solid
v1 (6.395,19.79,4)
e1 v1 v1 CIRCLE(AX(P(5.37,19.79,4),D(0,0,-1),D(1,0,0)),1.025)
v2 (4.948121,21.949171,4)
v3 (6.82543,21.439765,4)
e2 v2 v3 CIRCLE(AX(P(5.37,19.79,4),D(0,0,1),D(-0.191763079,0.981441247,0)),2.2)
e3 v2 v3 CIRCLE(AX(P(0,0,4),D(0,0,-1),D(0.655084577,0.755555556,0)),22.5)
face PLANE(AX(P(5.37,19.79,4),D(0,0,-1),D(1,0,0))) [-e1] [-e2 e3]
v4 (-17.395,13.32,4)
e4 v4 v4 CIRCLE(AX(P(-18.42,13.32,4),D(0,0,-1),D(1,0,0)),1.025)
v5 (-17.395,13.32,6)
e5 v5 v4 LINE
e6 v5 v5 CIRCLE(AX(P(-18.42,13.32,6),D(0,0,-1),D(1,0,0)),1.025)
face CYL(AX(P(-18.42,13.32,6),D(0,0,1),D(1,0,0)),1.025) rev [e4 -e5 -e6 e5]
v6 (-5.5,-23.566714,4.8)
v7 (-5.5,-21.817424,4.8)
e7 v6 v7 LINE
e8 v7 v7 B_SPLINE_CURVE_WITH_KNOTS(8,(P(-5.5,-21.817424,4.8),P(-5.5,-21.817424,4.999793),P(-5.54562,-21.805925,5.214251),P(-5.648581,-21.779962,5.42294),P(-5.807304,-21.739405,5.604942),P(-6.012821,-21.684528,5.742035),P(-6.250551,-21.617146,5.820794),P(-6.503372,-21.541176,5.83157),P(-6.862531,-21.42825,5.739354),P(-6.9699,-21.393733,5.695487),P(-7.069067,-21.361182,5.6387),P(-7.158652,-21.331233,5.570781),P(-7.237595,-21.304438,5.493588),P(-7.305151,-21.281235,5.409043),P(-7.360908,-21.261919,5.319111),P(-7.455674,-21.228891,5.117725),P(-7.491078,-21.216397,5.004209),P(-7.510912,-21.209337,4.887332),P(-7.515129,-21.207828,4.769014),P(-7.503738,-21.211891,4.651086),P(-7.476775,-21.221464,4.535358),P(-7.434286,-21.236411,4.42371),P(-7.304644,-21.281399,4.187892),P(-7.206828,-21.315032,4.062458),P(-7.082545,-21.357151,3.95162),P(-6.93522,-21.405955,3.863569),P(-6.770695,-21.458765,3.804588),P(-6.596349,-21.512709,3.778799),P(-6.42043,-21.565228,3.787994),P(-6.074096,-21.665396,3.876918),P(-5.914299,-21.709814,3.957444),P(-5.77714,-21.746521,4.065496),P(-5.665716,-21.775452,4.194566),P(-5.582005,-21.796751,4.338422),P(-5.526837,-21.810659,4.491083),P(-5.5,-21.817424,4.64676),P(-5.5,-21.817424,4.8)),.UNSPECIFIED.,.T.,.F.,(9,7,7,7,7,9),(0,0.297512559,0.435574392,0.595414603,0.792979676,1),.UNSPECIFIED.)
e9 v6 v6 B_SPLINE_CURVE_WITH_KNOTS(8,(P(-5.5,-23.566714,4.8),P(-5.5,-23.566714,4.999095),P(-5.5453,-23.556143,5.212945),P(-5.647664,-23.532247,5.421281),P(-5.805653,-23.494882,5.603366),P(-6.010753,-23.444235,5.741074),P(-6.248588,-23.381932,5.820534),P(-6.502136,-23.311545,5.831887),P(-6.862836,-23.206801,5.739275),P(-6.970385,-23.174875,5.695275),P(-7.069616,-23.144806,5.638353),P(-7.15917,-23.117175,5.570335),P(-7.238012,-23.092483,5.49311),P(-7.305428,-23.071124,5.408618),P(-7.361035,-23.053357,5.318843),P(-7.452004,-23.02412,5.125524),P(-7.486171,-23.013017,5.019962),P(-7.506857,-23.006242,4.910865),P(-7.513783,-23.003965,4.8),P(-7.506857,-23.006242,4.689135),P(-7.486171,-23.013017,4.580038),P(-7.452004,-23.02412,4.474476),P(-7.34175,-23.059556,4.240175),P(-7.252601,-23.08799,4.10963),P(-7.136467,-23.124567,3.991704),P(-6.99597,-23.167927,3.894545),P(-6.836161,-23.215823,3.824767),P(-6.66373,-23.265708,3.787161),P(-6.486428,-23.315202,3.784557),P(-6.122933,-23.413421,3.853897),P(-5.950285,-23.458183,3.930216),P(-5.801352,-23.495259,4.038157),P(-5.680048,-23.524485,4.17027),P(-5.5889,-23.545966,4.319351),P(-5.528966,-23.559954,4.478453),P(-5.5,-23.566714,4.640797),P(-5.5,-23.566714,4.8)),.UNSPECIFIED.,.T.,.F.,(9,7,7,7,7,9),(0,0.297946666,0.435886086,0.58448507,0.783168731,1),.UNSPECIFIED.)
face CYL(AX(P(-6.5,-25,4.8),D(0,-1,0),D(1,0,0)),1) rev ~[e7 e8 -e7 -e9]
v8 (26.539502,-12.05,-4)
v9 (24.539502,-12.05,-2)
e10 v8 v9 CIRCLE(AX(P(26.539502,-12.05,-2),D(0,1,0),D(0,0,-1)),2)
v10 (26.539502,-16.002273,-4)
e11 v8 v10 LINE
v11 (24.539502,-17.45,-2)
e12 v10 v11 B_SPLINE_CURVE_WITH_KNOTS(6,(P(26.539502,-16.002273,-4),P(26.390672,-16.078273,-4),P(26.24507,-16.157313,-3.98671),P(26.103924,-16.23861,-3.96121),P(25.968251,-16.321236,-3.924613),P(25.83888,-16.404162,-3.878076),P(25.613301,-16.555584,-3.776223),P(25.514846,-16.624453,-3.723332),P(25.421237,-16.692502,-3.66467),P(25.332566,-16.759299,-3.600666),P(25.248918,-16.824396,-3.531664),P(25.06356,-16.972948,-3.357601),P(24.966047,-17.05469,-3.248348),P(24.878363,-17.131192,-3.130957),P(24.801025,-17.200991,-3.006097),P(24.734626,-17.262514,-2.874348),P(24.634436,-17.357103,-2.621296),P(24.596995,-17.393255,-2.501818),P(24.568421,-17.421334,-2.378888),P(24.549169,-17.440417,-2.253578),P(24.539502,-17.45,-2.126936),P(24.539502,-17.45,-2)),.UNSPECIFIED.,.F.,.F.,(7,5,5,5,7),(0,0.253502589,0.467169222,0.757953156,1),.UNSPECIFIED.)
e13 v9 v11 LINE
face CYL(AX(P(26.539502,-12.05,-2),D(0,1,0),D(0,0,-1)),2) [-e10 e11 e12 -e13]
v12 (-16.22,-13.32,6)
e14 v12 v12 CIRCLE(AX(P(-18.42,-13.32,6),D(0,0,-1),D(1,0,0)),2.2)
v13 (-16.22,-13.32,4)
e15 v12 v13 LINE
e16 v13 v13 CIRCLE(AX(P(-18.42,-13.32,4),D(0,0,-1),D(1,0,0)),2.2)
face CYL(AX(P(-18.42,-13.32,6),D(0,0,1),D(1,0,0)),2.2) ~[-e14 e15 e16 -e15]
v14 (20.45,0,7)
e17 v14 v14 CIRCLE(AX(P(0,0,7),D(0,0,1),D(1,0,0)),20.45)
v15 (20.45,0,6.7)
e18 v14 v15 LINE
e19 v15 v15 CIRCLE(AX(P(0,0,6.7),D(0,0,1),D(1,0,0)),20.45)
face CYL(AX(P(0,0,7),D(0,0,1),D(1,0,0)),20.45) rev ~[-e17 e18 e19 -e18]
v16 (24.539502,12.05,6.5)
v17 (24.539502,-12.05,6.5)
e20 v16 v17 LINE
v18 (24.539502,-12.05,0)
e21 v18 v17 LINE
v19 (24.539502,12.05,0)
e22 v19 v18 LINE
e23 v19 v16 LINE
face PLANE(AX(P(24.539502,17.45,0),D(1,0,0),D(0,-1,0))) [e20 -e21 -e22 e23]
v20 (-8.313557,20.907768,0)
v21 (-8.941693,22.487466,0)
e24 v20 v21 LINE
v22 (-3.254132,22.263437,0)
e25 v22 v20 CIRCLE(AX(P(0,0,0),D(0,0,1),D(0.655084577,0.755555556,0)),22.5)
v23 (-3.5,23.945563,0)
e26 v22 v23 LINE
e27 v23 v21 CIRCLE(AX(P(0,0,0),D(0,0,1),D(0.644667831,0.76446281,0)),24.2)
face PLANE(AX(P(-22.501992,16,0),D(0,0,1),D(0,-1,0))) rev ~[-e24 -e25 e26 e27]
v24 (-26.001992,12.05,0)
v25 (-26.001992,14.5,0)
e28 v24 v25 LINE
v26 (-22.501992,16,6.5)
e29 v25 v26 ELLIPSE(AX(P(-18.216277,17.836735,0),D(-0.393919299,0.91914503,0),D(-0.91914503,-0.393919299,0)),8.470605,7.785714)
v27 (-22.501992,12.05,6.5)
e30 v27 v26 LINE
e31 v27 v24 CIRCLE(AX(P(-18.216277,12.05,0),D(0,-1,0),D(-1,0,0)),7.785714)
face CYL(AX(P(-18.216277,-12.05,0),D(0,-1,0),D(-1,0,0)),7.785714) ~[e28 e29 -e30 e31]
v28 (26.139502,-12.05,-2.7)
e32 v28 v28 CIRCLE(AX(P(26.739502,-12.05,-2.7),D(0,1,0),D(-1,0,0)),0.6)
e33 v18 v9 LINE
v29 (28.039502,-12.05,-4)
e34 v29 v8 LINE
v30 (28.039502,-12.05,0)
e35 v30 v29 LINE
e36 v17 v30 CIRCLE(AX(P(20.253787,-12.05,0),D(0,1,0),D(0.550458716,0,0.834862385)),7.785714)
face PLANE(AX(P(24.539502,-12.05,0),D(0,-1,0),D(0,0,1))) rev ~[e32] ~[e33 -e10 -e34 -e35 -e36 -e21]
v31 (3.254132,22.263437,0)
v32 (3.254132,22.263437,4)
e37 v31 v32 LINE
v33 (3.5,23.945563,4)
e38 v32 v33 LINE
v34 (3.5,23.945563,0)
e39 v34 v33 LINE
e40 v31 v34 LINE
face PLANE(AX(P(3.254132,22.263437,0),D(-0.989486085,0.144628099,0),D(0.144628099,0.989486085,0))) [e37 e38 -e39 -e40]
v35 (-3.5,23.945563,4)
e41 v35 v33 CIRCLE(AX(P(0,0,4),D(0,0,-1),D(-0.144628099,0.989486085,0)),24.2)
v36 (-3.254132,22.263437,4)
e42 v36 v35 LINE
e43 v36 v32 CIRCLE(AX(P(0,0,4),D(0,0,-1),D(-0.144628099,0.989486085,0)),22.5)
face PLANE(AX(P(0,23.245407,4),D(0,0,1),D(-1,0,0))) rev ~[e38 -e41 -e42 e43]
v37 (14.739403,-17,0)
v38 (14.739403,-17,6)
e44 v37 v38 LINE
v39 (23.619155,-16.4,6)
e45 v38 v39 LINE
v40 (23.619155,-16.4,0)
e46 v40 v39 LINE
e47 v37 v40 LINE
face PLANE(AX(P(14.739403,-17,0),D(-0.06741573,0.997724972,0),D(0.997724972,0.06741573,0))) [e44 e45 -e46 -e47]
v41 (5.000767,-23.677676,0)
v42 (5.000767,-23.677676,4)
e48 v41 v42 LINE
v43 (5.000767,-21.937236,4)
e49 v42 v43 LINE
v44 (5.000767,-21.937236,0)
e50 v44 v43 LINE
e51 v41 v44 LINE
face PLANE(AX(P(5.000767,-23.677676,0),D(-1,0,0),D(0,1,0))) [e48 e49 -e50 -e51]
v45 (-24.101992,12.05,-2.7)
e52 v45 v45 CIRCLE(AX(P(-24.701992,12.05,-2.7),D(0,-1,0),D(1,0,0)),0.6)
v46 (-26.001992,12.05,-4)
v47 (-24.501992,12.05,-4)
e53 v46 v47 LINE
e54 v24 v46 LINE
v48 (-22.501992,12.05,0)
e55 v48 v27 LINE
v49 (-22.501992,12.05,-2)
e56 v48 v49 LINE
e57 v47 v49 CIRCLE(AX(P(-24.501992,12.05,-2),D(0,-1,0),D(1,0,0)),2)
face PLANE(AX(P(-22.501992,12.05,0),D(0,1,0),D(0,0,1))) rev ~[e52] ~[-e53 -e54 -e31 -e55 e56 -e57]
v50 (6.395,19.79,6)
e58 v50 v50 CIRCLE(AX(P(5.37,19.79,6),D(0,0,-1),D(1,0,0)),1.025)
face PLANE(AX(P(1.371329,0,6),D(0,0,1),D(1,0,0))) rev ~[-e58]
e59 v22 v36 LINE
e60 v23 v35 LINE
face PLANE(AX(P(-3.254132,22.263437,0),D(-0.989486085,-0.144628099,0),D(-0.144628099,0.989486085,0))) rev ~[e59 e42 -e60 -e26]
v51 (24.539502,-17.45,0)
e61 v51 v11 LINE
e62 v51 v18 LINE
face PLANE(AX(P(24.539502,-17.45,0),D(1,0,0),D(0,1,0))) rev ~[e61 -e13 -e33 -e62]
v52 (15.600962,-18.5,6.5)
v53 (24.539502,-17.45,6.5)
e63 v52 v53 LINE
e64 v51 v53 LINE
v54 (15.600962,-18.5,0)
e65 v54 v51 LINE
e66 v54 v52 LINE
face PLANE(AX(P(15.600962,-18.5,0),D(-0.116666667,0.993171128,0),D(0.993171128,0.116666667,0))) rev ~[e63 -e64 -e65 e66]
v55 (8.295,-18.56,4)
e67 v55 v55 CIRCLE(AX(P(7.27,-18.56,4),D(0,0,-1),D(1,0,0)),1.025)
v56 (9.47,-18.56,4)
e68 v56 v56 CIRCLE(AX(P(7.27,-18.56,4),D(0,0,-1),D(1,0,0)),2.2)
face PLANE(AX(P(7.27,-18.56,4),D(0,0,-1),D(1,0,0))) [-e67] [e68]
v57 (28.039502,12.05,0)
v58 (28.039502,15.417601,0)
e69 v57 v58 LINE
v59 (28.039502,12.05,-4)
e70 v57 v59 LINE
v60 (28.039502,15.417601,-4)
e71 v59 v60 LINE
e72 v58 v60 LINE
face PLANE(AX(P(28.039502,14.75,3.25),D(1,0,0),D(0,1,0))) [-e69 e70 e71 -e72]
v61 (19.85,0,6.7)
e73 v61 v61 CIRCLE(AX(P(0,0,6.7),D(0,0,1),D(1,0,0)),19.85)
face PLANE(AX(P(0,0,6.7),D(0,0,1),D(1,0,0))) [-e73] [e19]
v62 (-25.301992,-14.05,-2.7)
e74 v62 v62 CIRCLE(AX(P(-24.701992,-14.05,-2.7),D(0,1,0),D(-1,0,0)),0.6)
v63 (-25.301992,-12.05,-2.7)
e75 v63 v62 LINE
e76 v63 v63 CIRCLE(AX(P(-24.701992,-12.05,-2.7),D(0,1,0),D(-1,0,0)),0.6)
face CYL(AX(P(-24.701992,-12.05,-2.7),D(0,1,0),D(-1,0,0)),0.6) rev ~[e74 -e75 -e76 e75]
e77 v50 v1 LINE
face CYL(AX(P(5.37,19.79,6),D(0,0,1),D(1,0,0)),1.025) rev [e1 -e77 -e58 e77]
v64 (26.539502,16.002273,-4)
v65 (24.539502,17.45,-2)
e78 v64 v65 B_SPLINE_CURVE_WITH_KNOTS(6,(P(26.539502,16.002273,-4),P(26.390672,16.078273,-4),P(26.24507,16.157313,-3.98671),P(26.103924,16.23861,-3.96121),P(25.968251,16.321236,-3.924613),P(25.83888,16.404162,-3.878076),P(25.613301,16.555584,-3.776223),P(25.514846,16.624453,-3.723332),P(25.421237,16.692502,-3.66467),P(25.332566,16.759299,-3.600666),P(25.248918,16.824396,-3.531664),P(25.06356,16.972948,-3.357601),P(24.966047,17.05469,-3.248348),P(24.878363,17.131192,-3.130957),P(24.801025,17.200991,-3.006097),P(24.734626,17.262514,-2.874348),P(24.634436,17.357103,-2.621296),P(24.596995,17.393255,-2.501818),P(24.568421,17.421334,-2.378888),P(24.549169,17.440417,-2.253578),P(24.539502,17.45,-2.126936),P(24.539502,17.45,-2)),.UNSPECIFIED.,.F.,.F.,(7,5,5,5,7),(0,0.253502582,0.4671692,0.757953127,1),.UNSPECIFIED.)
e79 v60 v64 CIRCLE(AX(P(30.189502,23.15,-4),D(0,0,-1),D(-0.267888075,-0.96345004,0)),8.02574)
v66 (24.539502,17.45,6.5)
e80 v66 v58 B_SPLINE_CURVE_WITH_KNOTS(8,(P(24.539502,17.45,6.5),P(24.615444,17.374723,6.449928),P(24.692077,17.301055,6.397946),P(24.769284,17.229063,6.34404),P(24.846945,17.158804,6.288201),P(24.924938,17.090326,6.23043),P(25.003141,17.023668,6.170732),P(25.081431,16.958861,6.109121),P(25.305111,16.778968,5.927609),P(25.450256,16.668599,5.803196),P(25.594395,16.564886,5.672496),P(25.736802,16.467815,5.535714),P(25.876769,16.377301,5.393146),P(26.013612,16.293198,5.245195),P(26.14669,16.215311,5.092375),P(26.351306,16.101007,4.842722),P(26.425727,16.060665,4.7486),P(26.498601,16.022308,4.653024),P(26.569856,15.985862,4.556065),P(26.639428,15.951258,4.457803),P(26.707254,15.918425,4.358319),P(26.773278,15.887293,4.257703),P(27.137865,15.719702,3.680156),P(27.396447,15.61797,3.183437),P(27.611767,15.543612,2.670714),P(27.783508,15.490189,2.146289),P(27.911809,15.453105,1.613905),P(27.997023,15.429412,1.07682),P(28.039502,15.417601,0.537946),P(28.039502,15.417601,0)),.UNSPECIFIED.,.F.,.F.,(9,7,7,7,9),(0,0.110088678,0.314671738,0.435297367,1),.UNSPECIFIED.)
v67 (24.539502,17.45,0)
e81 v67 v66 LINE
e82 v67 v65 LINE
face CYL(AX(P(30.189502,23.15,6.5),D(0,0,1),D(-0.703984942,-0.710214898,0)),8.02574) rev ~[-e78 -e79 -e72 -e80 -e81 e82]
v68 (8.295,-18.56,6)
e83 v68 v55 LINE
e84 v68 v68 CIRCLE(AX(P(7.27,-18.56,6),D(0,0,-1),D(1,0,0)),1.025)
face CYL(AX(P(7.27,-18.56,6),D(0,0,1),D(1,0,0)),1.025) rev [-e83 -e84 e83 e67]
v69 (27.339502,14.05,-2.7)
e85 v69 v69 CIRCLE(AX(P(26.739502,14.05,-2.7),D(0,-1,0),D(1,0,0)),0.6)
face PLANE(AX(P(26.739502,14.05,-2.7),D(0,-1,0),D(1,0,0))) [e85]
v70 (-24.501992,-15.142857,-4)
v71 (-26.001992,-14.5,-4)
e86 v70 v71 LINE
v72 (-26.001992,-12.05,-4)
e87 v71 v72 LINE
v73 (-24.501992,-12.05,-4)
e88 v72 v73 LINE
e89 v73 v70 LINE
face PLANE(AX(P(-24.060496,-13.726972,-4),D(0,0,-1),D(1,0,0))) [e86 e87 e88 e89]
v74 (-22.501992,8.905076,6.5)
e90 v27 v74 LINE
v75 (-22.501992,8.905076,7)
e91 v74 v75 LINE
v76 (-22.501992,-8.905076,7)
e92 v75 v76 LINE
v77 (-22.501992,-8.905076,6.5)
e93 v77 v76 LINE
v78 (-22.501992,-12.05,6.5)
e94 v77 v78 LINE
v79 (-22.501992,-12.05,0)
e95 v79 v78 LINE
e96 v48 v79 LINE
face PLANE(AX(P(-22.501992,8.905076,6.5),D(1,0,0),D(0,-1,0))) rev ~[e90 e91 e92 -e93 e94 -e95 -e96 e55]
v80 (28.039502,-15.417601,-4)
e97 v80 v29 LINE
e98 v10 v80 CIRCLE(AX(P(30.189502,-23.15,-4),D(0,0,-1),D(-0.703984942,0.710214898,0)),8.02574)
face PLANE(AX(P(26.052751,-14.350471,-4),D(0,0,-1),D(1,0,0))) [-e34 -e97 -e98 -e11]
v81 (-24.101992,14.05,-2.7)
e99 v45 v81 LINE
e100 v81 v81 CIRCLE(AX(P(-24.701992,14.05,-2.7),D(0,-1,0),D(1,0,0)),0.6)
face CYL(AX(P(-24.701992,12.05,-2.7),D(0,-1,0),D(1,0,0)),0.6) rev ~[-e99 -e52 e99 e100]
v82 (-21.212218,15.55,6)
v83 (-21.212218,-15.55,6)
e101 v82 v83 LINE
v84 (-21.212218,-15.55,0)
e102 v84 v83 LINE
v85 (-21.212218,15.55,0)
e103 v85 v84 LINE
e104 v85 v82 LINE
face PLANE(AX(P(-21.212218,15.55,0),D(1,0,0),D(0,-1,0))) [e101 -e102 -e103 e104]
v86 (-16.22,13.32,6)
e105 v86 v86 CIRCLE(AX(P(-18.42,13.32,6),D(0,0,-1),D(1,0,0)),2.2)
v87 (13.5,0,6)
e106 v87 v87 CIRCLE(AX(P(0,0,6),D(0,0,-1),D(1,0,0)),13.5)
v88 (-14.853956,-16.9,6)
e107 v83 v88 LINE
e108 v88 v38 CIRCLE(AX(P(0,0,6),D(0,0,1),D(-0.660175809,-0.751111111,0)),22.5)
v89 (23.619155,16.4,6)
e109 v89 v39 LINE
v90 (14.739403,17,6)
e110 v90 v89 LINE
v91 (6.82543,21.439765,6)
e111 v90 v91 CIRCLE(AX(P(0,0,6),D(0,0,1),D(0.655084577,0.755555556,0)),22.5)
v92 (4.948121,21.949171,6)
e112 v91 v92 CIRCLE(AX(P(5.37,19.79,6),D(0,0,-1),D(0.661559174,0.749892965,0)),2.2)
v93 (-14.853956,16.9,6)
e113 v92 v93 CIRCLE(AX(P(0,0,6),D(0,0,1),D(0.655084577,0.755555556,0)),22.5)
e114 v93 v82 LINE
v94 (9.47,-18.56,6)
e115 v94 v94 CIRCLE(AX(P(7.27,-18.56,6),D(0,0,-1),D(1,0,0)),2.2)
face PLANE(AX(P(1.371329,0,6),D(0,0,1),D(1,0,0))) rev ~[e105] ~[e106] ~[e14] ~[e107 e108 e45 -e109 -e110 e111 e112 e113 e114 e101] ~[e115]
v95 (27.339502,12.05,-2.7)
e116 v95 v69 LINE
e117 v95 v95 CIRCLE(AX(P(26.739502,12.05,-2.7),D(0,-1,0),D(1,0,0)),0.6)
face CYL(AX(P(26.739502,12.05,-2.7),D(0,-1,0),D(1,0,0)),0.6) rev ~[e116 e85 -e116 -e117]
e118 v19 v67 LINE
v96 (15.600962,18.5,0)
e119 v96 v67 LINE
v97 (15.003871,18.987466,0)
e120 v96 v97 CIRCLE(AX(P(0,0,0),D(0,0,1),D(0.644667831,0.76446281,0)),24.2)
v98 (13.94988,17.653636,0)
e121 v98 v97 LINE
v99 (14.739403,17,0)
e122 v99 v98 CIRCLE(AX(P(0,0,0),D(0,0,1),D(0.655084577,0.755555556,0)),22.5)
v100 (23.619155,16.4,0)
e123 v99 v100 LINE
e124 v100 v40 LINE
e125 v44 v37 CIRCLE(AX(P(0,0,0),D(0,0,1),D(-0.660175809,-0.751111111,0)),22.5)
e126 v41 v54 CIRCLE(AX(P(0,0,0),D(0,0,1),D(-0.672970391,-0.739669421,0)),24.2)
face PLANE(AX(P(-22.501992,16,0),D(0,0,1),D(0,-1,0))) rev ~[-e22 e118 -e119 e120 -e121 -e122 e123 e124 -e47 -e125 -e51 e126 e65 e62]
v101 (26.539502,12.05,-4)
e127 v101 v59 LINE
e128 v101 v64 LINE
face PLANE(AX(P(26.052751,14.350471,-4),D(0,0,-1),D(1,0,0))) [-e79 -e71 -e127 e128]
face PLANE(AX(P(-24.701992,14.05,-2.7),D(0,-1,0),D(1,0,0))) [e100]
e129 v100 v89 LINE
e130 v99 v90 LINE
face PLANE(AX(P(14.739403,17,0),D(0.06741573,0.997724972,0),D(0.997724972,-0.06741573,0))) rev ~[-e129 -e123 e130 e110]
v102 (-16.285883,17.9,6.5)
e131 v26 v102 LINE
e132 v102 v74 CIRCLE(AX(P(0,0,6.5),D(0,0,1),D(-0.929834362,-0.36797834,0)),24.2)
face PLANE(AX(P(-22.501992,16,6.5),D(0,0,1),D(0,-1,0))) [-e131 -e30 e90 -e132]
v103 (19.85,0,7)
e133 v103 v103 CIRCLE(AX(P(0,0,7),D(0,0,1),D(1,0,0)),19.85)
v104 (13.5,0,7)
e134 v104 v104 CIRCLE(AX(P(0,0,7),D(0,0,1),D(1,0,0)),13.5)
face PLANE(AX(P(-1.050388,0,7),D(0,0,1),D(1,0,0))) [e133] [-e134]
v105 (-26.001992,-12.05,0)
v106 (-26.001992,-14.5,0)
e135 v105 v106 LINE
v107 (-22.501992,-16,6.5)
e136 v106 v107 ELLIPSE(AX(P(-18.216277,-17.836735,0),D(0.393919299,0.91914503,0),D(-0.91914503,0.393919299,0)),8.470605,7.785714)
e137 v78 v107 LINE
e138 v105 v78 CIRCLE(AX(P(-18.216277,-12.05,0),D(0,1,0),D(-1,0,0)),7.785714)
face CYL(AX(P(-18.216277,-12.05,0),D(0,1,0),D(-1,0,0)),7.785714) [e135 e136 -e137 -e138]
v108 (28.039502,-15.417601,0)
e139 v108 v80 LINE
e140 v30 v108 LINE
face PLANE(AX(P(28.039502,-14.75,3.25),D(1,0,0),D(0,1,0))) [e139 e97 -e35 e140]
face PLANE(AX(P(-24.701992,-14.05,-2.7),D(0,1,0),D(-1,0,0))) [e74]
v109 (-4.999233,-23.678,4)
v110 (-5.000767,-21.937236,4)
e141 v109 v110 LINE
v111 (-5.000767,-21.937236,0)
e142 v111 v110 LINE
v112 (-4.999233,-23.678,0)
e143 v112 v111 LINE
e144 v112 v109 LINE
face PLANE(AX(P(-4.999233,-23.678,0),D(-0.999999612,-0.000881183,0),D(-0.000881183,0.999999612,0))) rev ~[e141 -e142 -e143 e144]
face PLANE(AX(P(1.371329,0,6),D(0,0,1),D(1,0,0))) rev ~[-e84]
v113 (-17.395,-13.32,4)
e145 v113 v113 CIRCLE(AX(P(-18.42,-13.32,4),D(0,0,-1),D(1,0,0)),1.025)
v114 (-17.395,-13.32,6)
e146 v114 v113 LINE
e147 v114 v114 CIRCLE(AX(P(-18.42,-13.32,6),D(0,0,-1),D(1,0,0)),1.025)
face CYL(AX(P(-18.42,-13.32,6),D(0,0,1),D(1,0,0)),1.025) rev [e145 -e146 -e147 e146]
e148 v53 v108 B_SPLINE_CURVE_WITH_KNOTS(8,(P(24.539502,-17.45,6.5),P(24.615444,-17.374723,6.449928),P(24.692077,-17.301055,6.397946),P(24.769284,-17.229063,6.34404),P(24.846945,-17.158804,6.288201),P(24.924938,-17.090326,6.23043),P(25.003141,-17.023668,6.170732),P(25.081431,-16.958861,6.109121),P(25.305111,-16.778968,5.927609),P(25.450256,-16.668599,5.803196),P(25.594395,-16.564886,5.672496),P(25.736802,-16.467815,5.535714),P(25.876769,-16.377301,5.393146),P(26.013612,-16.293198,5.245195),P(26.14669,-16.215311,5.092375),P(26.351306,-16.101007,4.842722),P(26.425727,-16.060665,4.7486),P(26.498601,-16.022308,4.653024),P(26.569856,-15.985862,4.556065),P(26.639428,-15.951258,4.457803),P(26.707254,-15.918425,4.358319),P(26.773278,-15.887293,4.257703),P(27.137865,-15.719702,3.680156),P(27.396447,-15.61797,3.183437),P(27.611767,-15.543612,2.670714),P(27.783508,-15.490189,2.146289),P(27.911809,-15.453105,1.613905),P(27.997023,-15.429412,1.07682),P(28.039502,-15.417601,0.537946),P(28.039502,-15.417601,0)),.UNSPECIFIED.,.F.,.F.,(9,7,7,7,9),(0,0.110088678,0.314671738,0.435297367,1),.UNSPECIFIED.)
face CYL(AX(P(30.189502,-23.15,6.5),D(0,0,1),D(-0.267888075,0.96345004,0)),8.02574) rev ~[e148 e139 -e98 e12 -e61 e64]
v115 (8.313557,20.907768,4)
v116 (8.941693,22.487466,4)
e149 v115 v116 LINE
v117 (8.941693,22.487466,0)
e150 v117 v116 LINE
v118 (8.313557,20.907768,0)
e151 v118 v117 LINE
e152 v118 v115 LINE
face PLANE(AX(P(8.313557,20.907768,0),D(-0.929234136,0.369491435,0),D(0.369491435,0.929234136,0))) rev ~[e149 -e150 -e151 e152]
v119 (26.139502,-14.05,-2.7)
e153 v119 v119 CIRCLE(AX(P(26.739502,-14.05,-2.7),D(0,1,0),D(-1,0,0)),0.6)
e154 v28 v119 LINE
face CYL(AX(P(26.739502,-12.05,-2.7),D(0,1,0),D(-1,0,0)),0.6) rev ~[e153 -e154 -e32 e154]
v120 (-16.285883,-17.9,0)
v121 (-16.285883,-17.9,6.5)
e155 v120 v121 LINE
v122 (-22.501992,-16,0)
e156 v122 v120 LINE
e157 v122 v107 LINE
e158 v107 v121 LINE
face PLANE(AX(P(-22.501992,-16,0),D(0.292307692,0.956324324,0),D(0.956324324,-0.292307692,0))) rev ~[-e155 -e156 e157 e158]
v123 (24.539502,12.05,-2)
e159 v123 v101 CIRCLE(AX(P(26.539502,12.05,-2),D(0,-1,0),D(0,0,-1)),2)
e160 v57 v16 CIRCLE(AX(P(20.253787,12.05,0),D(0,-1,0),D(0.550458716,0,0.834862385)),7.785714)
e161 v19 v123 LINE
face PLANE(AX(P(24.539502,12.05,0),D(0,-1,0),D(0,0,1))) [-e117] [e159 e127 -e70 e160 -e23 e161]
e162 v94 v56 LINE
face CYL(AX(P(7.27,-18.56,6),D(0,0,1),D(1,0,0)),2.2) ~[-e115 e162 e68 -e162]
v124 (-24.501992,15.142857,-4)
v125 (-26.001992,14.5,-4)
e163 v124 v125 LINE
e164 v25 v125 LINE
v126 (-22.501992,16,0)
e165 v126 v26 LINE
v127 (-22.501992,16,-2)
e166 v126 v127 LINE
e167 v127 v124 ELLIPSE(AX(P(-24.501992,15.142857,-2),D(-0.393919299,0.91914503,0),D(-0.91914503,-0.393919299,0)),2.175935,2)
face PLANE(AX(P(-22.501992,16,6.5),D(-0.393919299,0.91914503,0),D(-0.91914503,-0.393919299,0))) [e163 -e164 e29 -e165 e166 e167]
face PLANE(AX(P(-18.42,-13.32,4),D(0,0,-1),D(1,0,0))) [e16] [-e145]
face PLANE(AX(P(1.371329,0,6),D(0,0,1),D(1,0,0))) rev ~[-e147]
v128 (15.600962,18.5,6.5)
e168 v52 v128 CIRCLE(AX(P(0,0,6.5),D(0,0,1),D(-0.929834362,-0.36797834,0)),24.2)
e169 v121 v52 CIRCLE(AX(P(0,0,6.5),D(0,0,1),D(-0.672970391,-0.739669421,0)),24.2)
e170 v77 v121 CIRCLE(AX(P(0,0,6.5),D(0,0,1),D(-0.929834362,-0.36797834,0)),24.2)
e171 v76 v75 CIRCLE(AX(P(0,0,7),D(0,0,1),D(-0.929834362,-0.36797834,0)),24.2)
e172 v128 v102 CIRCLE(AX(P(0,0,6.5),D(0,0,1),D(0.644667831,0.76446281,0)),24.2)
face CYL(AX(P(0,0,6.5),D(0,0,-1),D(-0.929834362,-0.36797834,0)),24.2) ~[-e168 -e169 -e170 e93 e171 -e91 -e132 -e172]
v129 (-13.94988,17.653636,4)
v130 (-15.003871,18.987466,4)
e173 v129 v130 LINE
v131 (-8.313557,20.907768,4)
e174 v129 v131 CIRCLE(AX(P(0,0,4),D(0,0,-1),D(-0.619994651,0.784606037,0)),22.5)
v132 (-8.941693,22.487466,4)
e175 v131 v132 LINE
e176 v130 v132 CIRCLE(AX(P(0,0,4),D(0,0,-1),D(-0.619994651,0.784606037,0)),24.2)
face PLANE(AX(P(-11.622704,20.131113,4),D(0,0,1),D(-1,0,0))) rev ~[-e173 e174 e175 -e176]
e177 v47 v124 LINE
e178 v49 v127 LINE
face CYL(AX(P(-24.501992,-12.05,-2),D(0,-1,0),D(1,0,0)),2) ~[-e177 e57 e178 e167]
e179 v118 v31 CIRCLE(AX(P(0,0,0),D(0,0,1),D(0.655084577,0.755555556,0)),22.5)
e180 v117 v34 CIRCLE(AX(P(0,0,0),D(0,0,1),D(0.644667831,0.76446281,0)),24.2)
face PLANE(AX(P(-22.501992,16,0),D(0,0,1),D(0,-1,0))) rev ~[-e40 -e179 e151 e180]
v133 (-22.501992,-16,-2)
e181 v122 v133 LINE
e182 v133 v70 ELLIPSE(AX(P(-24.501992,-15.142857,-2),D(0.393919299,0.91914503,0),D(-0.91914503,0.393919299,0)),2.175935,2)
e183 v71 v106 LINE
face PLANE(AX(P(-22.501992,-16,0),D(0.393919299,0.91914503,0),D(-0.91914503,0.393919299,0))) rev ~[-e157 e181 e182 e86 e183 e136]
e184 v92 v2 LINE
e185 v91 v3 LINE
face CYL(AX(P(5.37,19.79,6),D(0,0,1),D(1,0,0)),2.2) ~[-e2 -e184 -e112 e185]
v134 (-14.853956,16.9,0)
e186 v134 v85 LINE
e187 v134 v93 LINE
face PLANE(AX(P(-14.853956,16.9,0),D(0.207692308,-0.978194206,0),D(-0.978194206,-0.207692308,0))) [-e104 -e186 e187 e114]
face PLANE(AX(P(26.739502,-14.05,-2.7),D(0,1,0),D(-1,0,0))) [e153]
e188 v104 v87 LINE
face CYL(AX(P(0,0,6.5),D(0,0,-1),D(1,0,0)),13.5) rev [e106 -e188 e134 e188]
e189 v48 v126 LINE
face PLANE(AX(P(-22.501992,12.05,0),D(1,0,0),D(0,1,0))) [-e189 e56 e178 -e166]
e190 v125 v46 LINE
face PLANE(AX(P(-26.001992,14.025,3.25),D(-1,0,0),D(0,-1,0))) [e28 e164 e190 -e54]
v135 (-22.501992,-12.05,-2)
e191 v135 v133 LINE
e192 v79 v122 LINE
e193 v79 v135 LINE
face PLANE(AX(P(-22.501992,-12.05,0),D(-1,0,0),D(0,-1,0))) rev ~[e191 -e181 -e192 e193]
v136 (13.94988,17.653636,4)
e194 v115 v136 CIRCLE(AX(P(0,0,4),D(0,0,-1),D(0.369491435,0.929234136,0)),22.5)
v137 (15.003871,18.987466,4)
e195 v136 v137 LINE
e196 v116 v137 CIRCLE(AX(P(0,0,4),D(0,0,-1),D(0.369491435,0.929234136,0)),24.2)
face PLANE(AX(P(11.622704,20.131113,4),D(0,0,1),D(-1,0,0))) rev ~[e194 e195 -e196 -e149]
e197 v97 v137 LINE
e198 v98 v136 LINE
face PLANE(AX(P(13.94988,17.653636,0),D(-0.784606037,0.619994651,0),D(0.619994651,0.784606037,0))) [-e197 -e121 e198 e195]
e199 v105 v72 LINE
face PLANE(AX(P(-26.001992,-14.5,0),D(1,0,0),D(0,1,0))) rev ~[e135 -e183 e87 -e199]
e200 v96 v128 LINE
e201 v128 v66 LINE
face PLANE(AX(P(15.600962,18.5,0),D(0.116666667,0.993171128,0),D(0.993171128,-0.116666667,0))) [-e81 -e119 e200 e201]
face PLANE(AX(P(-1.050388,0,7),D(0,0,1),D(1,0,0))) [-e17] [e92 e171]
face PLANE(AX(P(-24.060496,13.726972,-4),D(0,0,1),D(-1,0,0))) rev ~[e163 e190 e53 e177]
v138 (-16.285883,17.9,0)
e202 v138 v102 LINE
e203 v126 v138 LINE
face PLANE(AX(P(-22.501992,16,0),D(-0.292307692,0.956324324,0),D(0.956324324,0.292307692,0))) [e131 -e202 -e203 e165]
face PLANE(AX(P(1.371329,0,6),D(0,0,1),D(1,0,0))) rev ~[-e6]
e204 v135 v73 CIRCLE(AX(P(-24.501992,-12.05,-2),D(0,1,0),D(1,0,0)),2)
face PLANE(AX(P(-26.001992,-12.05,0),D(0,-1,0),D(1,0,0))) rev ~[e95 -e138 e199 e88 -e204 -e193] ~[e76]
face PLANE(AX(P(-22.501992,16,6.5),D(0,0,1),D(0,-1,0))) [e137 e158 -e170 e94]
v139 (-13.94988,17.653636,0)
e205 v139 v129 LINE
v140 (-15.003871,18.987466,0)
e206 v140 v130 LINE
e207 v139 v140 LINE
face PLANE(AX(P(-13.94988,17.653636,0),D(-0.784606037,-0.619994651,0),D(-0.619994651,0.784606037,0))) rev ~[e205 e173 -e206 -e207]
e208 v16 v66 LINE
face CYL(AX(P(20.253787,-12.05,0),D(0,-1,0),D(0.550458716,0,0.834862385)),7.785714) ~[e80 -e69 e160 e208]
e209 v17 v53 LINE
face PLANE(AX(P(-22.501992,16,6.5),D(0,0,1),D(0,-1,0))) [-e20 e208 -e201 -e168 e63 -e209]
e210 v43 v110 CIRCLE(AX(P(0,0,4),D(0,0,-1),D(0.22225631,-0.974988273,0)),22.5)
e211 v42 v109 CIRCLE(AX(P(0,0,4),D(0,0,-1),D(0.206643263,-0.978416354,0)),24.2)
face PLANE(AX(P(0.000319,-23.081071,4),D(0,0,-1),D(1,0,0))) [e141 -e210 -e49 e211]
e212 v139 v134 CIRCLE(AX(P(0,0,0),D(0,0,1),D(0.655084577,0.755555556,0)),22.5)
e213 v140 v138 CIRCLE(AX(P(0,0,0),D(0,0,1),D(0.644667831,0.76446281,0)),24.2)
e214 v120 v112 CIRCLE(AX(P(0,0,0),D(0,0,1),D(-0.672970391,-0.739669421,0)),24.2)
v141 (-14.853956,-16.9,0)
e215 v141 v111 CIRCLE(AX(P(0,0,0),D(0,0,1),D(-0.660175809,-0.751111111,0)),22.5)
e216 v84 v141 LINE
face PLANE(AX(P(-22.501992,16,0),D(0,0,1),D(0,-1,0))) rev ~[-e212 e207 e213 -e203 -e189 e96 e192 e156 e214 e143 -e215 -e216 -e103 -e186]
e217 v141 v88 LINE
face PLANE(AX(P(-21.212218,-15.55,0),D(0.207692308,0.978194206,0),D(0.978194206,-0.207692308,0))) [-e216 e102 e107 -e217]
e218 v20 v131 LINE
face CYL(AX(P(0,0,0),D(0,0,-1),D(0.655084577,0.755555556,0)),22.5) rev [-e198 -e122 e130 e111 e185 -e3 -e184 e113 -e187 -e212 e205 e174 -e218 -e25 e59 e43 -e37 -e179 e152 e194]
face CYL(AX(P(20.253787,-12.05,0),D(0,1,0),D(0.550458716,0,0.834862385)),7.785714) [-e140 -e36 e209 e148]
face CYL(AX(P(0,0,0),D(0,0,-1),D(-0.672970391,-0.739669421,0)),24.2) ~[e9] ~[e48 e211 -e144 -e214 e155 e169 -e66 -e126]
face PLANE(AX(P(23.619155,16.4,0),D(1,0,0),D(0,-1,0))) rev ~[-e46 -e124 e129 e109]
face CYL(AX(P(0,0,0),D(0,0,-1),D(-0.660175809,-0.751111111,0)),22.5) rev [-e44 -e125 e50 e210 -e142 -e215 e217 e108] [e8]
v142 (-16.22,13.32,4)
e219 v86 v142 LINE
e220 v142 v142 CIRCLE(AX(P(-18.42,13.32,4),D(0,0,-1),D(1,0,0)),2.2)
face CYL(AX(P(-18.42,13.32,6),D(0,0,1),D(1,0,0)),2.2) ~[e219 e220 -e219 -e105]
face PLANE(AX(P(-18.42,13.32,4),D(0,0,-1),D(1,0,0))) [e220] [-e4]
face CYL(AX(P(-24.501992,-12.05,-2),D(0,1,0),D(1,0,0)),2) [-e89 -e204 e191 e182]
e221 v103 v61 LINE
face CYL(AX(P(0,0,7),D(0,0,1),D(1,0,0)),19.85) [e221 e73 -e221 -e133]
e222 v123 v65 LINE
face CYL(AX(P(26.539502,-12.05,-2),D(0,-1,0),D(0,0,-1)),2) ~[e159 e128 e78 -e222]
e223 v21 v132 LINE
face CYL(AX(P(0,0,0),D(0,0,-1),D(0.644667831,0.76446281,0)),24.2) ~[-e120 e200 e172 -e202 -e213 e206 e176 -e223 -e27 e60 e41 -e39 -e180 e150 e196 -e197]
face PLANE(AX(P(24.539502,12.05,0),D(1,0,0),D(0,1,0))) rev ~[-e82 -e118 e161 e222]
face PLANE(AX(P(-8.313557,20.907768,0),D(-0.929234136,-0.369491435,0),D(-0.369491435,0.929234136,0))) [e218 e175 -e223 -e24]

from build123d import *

# Parameters (mm, degrees)
PAD_DEPTH            = 6.5
POCKET_DEPTH         = 6
SKETCH002_R          = 13.5
POCKET001_DEPTH      = 1
SKETCH003_W          = 5.4
SKETCH003_H          = 6.5
PAD001_DEPTH         = 3.5
POCKET002_DEPTH      = 10
SKETCH010_W          = 3.95
SKETCH010_H          = 6.5
PAD002_DEPTH         = 3.5
POCKET005_DEPTH      = 10
SKETCH015_R          = 2.2
SKETCH015_R_2        = 1.025
PAD003_DEPTH         = 2
POCKET009_DEPTH      = 4
POCKET010_DEPTH      = 4
PAD004_DEPTH         = 4
POCKET013_DEPTH      = 12.151
POCKET013_DEPTH_BACK = 36.251
SKETCH022_R          = 0.6
POCKET014_DEPTH      = 2
SKETCH023_R          = 0.6
POCKET015_DEPTH      = 2
SKETCH024_R          = 13.5
PAD005_DEPTH         = 0.5
SKETCH025_R          = 20.45
SKETCH025_R_2        = 19.85
POCKET016_DEPTH      = 0.3
SKETCH026_R          = 1
POCKET017_DEPTH      = 5


with BuildPart() as part:
    # Sketch → Pad (new body)
    with BuildSketch(Plane.XY):
        with BuildLine():
            Line((-22.5019915649, 16), (-22.5019915649, -16))
            Line((-22.5019915649, -16), (-16.2858834578, -17.9))
            ThreePointArc((-16.2858834578, -17.9), (-0.4552796053, -24.1957169863), (15.6009615088, -18.5))
            Line((15.6009615088, -18.5), (24.5395016581, -17.45))
            Line((24.5395016581, 17.45), (24.5395016581, -17.45))
            Line((15.6009615088, 18.5), (24.5395016581, 17.45))
            ThreePointArc((15.6009615088, 18.5), (-0.4552796053, 24.1957169863), (-16.2858834578, 17.9))
            Line((-22.5019915649, 16), (-16.2858834578, 17.9))
        make_face()
    extrude(amount=PAD_DEPTH)

    # Sketch001 → Pocket (cut)
    with BuildSketch(Plane.XY):
        with BuildLine():
            Line((-14.8539557021, 16.9), (-21.2122180433, 15.55))
            Line((-21.2122180433, 15.55), (-21.2122180433, -15.55))
            Line((-21.2122180433, -15.55), (-14.8539557021, -16.9))
            ThreePointArc((-14.8539557021, -16.9), (-0.0760301383, -22.4998715423), (14.739402973, -17))
            Line((14.739402973, -17), (23.6191552218, -16.4))
            Line((23.6191552218, 16.4), (23.6191552218, -16.4))
            Line((14.739402973, 17), (23.6191552218, 16.4))
            ThreePointArc((14.739402973, 17), (-0.0760301383, 22.4998715423), (-14.8539557021, 16.9))
        make_face()
    extrude(amount=POCKET_DEPTH, mode=Mode.SUBTRACT)

    # Sketch002 (on Face19 of Pocket) → Pocket001 (cut)
    with BuildSketch(Plane(origin=(0, 0, 6), x_dir=(1, 0, 0), z_dir=(0, 0, -1))):
        Circle(SKETCH002_R)
    extrude(amount=-POCKET001_DEPTH, mode=Mode.SUBTRACT)

    # Sketch003 (on Face7 of Pad) → Pad001 (join)
    with BuildSketch(Plane.YZ.offset(24.5395016581)):
        with Locations((-14.75, 3.25)):
            Rectangle(SKETCH003_W, SKETCH003_H)
        with Locations((14.75, 3.25)):
            Rectangle(SKETCH003_W, SKETCH003_H)
    extrude(amount=PAD001_DEPTH)

    # Sketch006 (on Face22 of Pad001) → Pocket002 (cut)
    with BuildSketch(Plane.XY.offset(6.5)):
        with BuildLine():
            ThreePointArc((24.5395016581, 17.45), (26.1592830786, 16.2095505764), (28.0395016581, 15.4176006311))
            Line((28.0395016581, 17.45), (28.0395016581, 15.4176006311))
            Line((28.0395016581, 17.45), (24.5395016581, 17.45))
        make_face()
        with BuildLine():
            ThreePointArc((28.0395016581, -15.4176006311), (26.1592830786, -16.2095505765), (24.5395016581, -17.4500000001))
            Line((28.0395016581, -17.45), (24.5395016581, -17.45))
            Line((28.0395016581, -15.4176006311), (28.0395016581, -17.45))
        make_face()
    extrude(amount=-POCKET002_DEPTH, mode=Mode.SUBTRACT)

    # Sketch010 (on Face3 of Pad) → Pad002 (join)
    with BuildSketch(Plane(origin=(-22.5019915649, 0, 0), x_dir=(0, -1, 0), z_dir=(-1, 0, 0))):
        with Locations((-14.025, 3.25)):
            Rectangle(SKETCH010_W, SKETCH010_H)
        with Locations((14.025, 3.25)):
            Rectangle(SKETCH010_W, SKETCH010_H)
    extrude(amount=PAD002_DEPTH)

    # Sketch011 (on Face28 of Pad002) → Pocket005 (cut)
    with BuildSketch(Plane.XY.offset(6.5)):
        Polygon((-26.0019915649, 16), (-22.5019915649, 16), (-26.0019915649, 14.5), align=None)
        Polygon((-22.5019915649, -16), (-26.0019915649, -14.5), (-26.0019915649, -16), align=None)
    extrude(amount=-POCKET005_DEPTH, mode=Mode.SUBTRACT)

    # Sketch015 (on Face19 of Pocket) → Pad003 (join)
    with BuildSketch(Plane(origin=(0, 0, 6), x_dir=(1, 0, 0), z_dir=(0, 0, -1))):
        with Locations((-18.42, 13.32)):
            Circle(SKETCH015_R)
        with Locations((-18.42, 13.32)):
            Circle(SKETCH015_R_2, mode=Mode.SUBTRACT)
        with Locations((7.27, 18.56)):
            Circle(SKETCH015_R)
        with Locations((7.27, 18.56)):
            Circle(SKETCH015_R_2, mode=Mode.SUBTRACT)
        with Locations((5.37, -19.79)):
            Circle(SKETCH015_R)
        with Locations((5.37, -19.79)):
            Circle(SKETCH015_R_2, mode=Mode.SUBTRACT)
        with Locations((-18.42, -13.32)):
            Circle(SKETCH015_R)
        with Locations((-18.42, -13.32)):
            Circle(SKETCH015_R_2, mode=Mode.SUBTRACT)
    extrude(amount=PAD003_DEPTH)

    # Sketch016 (on Face4 of Pocket) → Pocket009 (cut)
    with BuildSketch(Plane(origin=(0, 0, 0), x_dir=(1, 0, 0), z_dir=(0, 0, -1))):
        with BuildLine():
            Line((-4.9992330338, 23.6779996848), (-5.0007669662, 21.9372361465))
            ThreePointArc((5.0007669662, 21.9372361465), (0, 22.5), (-5.0007669662, 21.9372361465))
            Line((5.0007669662, 23.6776757675), (5.0007669662, 21.9372361465))
            ThreePointArc((5.0007669662, 23.6776757675), (0.00078388, 24.1999999873), (-4.9992330338, 23.6779996848))
        make_face()
    extrude(amount=-POCKET009_DEPTH, mode=Mode.SUBTRACT)

    # Sketch017 (on Face4 of Pocket) → Pocket010 (cut)
    with BuildSketch(Plane(origin=(0, 0, 0), x_dir=(1, 0, 0), z_dir=(0, 0, -1))):
        with BuildLine():
            ThreePointArc((-3.2541322314, -22.2634369184), (0, -22.5), (3.2541322314, -22.2634369184))
            Line((3.2541322314, -22.2634369184), (3.5, -23.9455632634))
            ThreePointArc((-3.5, -23.9455632634), (0, -24.2), (3.5, -23.9455632634))
            Line((-3.2541322314, -22.2634369184), (-3.5, -23.9455632634))
        make_face()
        with BuildLine():
            ThreePointArc((-13.9498796389, -17.6536358312), (-11.25, -19.4855715851), (-8.3135572795, -20.9077680626))
            Line((-8.3135572795, -20.9077680626), (-8.9416927184, -22.487466094))
            ThreePointArc((-15.0038705449, -18.987466094), (-12.1, -20.9578147716), (-8.9416927184, -22.487466094))
            Line((-13.9498796389, -17.6536358312), (-15.0038705449, -18.987466094))
        make_face()
        with BuildLine():
            ThreePointArc((8.3135572795, -20.9077680626), (11.25, -19.4855715851), (13.9498796389, -17.6536358312))
            Line((13.9498796389, -17.6536358312), (15.0038705449, -18.987466094))
            ThreePointArc((8.9416927184, -22.487466094), (12.1, -20.9578147716), (15.0038705449, -18.987466094))
            Line((8.3135572795, -20.9077680626), (8.9416927184, -22.487466094))
        make_face()
    extrude(amount=-POCKET010_DEPTH, mode=Mode.SUBTRACT)

    # Sketch018 (on Face8 of Pocket005) → Pad004 (join)
    with BuildSketch(Plane(origin=(0, 0, 0), x_dir=(1, 0, 0), z_dir=(0, 0, -1))):
        Polygon((-26.0019915649, 14.5), (-26.0019915649, 12.05), (-22.5019915649, 12.05), (-22.5019915649, 16), align=None)
        Polygon((-26.0019915649, -12.05), (-22.5019915649, -12.05), (-22.5019915649, -16), (-26.0019915649, -14.5), align=None)
        with BuildLine():
            Line((24.5395016581, 17.4500000001), (24.5395016581, 12.05))
            Line((28.0395016581, 12.05), (24.5395016581, 12.05))
            Line((28.0395016581, 15.4176006311), (28.0395016581, 12.05))
            ThreePointArc((24.5395016581, 17.4500000001), (26.1592830786, 16.2095505765), (28.0395016581, 15.4176006311))
        make_face()
        with BuildLine():
            Line((24.5395016581, -12.05), (24.5395016581, -17.45))
            ThreePointArc((28.0395016581, -15.4176006311), (26.1592830786, -16.2095505764), (24.5395016581, -17.45))
            Line((28.0395016581, -12.05), (28.0395016581, -15.4176006311))
            Line((24.5395016581, -12.05), (28.0395016581, -12.05))
        make_face()
    extrude(amount=PAD004_DEPTH)

    # Sketch021 (on Face50 of Pad004) → Pocket013 (cut, two sides)
    with BuildSketch(Plane(origin=(0, -12.05, 0), x_dir=(-1, 0, 0), z_dir=(0, 1, 0))) as pocket013_sk:
        with BuildLine():
            Line((-24.5395016581, -4), (-24.5395016581, -2))
            ThreePointArc((-26.5395016581, -4), (-25.1252880957, -3.4142135624), (-24.5395016581, -2))
            Line((-24.5395016581, -4), (-26.5395016581, -4))
        make_face()
        with BuildLine():
            Line((22.5019915649, -4), (22.5019915649, -2))
            ThreePointArc((22.5019915649, -2), (23.0877780026, -3.4142135624), (24.5019915649, -4))
            Line((22.5019915649, -4), (24.5019915649, -4))
        make_face()
        with BuildLine():
            Line((-28.0395016581, 0), (-28.0395016581, 6.5))
            Line((-28.0395016581, 6.5), (-24.5395016581, 6.5))
            ThreePointArc((-24.5395016581, 6.5), (-27.1088837932, 3.6912057651), (-28.0395016581, 0))
        make_face()
        with BuildLine():
            Line((26.0019915649, 6.5), (26.0019915649, 0))
            ThreePointArc((26.0019915649, 0), (25.0713737, 3.6912057651), (22.5019915649, 6.5))
            Line((26.0019915649, 6.5), (22.5019915649, 6.5))
        make_face()
    extrude(amount=-POCKET013_DEPTH, mode=Mode.SUBTRACT)
    extrude(pocket013_sk.sketch, amount=POCKET013_DEPTH_BACK, mode=Mode.SUBTRACT)

    # Sketch022 (on Face66 of Pocket013) → Pocket014 (cut)
    with BuildSketch(Plane.XZ.offset(-12.05)):
        with Locations((-24.7019915649, -2.7)):
            Circle(SKETCH022_R)
        with Locations((26.7395016581, -2.7)):
            Circle(SKETCH022_R)
    extrude(amount=-POCKET014_DEPTH, mode=Mode.SUBTRACT)

    # Sketch023 (on Face49 of Pocket014) → Pocket015 (cut)
    with BuildSketch(Plane(origin=(0, -12.05, 0), x_dir=(-1, 0, 0), z_dir=(0, 1, 0))):
        with Locations((-26.7395016581, -2.7)):
            Circle(SKETCH023_R)
        with Locations((24.7019915649, -2.7)):
            Circle(SKETCH023_R)
    extrude(amount=-POCKET015_DEPTH, mode=Mode.SUBTRACT)

    # Sketch024 (on Face16 of Pocket015) → Pad005 (join)
    with BuildSketch(Plane.XY.offset(6.5)):
        with BuildLine():
            ThreePointArc((-22.5019915649, -8.9050758341), (24.2, 0), (-22.5019915649, 8.9050758341))
            Line((-22.5019915649, 8.9050758341), (-22.5019915649, -8.9050758341))
        make_face()
        Circle(SKETCH024_R, mode=Mode.SUBTRACT)
    extrude(amount=PAD005_DEPTH)

    # Sketch025 (on Face42 of Pad005) → Pocket016 (cut)
    with BuildSketch(Plane.XY.offset(7)):
        Circle(SKETCH025_R)
        Circle(SKETCH025_R_2, mode=Mode.SUBTRACT)
    extrude(amount=-POCKET016_DEPTH, mode=Mode.SUBTRACT)

    # Sketch026 (on DatumPlane) → Pocket017 (cut)
    with BuildSketch(Plane.XZ.offset(25)):
        with Locations((-6.5, 4.8)):
            Circle(SKETCH026_R)
    extrude(amount=-POCKET017_DEPTH, mode=Mode.SUBTRACT)


solid = part.part
